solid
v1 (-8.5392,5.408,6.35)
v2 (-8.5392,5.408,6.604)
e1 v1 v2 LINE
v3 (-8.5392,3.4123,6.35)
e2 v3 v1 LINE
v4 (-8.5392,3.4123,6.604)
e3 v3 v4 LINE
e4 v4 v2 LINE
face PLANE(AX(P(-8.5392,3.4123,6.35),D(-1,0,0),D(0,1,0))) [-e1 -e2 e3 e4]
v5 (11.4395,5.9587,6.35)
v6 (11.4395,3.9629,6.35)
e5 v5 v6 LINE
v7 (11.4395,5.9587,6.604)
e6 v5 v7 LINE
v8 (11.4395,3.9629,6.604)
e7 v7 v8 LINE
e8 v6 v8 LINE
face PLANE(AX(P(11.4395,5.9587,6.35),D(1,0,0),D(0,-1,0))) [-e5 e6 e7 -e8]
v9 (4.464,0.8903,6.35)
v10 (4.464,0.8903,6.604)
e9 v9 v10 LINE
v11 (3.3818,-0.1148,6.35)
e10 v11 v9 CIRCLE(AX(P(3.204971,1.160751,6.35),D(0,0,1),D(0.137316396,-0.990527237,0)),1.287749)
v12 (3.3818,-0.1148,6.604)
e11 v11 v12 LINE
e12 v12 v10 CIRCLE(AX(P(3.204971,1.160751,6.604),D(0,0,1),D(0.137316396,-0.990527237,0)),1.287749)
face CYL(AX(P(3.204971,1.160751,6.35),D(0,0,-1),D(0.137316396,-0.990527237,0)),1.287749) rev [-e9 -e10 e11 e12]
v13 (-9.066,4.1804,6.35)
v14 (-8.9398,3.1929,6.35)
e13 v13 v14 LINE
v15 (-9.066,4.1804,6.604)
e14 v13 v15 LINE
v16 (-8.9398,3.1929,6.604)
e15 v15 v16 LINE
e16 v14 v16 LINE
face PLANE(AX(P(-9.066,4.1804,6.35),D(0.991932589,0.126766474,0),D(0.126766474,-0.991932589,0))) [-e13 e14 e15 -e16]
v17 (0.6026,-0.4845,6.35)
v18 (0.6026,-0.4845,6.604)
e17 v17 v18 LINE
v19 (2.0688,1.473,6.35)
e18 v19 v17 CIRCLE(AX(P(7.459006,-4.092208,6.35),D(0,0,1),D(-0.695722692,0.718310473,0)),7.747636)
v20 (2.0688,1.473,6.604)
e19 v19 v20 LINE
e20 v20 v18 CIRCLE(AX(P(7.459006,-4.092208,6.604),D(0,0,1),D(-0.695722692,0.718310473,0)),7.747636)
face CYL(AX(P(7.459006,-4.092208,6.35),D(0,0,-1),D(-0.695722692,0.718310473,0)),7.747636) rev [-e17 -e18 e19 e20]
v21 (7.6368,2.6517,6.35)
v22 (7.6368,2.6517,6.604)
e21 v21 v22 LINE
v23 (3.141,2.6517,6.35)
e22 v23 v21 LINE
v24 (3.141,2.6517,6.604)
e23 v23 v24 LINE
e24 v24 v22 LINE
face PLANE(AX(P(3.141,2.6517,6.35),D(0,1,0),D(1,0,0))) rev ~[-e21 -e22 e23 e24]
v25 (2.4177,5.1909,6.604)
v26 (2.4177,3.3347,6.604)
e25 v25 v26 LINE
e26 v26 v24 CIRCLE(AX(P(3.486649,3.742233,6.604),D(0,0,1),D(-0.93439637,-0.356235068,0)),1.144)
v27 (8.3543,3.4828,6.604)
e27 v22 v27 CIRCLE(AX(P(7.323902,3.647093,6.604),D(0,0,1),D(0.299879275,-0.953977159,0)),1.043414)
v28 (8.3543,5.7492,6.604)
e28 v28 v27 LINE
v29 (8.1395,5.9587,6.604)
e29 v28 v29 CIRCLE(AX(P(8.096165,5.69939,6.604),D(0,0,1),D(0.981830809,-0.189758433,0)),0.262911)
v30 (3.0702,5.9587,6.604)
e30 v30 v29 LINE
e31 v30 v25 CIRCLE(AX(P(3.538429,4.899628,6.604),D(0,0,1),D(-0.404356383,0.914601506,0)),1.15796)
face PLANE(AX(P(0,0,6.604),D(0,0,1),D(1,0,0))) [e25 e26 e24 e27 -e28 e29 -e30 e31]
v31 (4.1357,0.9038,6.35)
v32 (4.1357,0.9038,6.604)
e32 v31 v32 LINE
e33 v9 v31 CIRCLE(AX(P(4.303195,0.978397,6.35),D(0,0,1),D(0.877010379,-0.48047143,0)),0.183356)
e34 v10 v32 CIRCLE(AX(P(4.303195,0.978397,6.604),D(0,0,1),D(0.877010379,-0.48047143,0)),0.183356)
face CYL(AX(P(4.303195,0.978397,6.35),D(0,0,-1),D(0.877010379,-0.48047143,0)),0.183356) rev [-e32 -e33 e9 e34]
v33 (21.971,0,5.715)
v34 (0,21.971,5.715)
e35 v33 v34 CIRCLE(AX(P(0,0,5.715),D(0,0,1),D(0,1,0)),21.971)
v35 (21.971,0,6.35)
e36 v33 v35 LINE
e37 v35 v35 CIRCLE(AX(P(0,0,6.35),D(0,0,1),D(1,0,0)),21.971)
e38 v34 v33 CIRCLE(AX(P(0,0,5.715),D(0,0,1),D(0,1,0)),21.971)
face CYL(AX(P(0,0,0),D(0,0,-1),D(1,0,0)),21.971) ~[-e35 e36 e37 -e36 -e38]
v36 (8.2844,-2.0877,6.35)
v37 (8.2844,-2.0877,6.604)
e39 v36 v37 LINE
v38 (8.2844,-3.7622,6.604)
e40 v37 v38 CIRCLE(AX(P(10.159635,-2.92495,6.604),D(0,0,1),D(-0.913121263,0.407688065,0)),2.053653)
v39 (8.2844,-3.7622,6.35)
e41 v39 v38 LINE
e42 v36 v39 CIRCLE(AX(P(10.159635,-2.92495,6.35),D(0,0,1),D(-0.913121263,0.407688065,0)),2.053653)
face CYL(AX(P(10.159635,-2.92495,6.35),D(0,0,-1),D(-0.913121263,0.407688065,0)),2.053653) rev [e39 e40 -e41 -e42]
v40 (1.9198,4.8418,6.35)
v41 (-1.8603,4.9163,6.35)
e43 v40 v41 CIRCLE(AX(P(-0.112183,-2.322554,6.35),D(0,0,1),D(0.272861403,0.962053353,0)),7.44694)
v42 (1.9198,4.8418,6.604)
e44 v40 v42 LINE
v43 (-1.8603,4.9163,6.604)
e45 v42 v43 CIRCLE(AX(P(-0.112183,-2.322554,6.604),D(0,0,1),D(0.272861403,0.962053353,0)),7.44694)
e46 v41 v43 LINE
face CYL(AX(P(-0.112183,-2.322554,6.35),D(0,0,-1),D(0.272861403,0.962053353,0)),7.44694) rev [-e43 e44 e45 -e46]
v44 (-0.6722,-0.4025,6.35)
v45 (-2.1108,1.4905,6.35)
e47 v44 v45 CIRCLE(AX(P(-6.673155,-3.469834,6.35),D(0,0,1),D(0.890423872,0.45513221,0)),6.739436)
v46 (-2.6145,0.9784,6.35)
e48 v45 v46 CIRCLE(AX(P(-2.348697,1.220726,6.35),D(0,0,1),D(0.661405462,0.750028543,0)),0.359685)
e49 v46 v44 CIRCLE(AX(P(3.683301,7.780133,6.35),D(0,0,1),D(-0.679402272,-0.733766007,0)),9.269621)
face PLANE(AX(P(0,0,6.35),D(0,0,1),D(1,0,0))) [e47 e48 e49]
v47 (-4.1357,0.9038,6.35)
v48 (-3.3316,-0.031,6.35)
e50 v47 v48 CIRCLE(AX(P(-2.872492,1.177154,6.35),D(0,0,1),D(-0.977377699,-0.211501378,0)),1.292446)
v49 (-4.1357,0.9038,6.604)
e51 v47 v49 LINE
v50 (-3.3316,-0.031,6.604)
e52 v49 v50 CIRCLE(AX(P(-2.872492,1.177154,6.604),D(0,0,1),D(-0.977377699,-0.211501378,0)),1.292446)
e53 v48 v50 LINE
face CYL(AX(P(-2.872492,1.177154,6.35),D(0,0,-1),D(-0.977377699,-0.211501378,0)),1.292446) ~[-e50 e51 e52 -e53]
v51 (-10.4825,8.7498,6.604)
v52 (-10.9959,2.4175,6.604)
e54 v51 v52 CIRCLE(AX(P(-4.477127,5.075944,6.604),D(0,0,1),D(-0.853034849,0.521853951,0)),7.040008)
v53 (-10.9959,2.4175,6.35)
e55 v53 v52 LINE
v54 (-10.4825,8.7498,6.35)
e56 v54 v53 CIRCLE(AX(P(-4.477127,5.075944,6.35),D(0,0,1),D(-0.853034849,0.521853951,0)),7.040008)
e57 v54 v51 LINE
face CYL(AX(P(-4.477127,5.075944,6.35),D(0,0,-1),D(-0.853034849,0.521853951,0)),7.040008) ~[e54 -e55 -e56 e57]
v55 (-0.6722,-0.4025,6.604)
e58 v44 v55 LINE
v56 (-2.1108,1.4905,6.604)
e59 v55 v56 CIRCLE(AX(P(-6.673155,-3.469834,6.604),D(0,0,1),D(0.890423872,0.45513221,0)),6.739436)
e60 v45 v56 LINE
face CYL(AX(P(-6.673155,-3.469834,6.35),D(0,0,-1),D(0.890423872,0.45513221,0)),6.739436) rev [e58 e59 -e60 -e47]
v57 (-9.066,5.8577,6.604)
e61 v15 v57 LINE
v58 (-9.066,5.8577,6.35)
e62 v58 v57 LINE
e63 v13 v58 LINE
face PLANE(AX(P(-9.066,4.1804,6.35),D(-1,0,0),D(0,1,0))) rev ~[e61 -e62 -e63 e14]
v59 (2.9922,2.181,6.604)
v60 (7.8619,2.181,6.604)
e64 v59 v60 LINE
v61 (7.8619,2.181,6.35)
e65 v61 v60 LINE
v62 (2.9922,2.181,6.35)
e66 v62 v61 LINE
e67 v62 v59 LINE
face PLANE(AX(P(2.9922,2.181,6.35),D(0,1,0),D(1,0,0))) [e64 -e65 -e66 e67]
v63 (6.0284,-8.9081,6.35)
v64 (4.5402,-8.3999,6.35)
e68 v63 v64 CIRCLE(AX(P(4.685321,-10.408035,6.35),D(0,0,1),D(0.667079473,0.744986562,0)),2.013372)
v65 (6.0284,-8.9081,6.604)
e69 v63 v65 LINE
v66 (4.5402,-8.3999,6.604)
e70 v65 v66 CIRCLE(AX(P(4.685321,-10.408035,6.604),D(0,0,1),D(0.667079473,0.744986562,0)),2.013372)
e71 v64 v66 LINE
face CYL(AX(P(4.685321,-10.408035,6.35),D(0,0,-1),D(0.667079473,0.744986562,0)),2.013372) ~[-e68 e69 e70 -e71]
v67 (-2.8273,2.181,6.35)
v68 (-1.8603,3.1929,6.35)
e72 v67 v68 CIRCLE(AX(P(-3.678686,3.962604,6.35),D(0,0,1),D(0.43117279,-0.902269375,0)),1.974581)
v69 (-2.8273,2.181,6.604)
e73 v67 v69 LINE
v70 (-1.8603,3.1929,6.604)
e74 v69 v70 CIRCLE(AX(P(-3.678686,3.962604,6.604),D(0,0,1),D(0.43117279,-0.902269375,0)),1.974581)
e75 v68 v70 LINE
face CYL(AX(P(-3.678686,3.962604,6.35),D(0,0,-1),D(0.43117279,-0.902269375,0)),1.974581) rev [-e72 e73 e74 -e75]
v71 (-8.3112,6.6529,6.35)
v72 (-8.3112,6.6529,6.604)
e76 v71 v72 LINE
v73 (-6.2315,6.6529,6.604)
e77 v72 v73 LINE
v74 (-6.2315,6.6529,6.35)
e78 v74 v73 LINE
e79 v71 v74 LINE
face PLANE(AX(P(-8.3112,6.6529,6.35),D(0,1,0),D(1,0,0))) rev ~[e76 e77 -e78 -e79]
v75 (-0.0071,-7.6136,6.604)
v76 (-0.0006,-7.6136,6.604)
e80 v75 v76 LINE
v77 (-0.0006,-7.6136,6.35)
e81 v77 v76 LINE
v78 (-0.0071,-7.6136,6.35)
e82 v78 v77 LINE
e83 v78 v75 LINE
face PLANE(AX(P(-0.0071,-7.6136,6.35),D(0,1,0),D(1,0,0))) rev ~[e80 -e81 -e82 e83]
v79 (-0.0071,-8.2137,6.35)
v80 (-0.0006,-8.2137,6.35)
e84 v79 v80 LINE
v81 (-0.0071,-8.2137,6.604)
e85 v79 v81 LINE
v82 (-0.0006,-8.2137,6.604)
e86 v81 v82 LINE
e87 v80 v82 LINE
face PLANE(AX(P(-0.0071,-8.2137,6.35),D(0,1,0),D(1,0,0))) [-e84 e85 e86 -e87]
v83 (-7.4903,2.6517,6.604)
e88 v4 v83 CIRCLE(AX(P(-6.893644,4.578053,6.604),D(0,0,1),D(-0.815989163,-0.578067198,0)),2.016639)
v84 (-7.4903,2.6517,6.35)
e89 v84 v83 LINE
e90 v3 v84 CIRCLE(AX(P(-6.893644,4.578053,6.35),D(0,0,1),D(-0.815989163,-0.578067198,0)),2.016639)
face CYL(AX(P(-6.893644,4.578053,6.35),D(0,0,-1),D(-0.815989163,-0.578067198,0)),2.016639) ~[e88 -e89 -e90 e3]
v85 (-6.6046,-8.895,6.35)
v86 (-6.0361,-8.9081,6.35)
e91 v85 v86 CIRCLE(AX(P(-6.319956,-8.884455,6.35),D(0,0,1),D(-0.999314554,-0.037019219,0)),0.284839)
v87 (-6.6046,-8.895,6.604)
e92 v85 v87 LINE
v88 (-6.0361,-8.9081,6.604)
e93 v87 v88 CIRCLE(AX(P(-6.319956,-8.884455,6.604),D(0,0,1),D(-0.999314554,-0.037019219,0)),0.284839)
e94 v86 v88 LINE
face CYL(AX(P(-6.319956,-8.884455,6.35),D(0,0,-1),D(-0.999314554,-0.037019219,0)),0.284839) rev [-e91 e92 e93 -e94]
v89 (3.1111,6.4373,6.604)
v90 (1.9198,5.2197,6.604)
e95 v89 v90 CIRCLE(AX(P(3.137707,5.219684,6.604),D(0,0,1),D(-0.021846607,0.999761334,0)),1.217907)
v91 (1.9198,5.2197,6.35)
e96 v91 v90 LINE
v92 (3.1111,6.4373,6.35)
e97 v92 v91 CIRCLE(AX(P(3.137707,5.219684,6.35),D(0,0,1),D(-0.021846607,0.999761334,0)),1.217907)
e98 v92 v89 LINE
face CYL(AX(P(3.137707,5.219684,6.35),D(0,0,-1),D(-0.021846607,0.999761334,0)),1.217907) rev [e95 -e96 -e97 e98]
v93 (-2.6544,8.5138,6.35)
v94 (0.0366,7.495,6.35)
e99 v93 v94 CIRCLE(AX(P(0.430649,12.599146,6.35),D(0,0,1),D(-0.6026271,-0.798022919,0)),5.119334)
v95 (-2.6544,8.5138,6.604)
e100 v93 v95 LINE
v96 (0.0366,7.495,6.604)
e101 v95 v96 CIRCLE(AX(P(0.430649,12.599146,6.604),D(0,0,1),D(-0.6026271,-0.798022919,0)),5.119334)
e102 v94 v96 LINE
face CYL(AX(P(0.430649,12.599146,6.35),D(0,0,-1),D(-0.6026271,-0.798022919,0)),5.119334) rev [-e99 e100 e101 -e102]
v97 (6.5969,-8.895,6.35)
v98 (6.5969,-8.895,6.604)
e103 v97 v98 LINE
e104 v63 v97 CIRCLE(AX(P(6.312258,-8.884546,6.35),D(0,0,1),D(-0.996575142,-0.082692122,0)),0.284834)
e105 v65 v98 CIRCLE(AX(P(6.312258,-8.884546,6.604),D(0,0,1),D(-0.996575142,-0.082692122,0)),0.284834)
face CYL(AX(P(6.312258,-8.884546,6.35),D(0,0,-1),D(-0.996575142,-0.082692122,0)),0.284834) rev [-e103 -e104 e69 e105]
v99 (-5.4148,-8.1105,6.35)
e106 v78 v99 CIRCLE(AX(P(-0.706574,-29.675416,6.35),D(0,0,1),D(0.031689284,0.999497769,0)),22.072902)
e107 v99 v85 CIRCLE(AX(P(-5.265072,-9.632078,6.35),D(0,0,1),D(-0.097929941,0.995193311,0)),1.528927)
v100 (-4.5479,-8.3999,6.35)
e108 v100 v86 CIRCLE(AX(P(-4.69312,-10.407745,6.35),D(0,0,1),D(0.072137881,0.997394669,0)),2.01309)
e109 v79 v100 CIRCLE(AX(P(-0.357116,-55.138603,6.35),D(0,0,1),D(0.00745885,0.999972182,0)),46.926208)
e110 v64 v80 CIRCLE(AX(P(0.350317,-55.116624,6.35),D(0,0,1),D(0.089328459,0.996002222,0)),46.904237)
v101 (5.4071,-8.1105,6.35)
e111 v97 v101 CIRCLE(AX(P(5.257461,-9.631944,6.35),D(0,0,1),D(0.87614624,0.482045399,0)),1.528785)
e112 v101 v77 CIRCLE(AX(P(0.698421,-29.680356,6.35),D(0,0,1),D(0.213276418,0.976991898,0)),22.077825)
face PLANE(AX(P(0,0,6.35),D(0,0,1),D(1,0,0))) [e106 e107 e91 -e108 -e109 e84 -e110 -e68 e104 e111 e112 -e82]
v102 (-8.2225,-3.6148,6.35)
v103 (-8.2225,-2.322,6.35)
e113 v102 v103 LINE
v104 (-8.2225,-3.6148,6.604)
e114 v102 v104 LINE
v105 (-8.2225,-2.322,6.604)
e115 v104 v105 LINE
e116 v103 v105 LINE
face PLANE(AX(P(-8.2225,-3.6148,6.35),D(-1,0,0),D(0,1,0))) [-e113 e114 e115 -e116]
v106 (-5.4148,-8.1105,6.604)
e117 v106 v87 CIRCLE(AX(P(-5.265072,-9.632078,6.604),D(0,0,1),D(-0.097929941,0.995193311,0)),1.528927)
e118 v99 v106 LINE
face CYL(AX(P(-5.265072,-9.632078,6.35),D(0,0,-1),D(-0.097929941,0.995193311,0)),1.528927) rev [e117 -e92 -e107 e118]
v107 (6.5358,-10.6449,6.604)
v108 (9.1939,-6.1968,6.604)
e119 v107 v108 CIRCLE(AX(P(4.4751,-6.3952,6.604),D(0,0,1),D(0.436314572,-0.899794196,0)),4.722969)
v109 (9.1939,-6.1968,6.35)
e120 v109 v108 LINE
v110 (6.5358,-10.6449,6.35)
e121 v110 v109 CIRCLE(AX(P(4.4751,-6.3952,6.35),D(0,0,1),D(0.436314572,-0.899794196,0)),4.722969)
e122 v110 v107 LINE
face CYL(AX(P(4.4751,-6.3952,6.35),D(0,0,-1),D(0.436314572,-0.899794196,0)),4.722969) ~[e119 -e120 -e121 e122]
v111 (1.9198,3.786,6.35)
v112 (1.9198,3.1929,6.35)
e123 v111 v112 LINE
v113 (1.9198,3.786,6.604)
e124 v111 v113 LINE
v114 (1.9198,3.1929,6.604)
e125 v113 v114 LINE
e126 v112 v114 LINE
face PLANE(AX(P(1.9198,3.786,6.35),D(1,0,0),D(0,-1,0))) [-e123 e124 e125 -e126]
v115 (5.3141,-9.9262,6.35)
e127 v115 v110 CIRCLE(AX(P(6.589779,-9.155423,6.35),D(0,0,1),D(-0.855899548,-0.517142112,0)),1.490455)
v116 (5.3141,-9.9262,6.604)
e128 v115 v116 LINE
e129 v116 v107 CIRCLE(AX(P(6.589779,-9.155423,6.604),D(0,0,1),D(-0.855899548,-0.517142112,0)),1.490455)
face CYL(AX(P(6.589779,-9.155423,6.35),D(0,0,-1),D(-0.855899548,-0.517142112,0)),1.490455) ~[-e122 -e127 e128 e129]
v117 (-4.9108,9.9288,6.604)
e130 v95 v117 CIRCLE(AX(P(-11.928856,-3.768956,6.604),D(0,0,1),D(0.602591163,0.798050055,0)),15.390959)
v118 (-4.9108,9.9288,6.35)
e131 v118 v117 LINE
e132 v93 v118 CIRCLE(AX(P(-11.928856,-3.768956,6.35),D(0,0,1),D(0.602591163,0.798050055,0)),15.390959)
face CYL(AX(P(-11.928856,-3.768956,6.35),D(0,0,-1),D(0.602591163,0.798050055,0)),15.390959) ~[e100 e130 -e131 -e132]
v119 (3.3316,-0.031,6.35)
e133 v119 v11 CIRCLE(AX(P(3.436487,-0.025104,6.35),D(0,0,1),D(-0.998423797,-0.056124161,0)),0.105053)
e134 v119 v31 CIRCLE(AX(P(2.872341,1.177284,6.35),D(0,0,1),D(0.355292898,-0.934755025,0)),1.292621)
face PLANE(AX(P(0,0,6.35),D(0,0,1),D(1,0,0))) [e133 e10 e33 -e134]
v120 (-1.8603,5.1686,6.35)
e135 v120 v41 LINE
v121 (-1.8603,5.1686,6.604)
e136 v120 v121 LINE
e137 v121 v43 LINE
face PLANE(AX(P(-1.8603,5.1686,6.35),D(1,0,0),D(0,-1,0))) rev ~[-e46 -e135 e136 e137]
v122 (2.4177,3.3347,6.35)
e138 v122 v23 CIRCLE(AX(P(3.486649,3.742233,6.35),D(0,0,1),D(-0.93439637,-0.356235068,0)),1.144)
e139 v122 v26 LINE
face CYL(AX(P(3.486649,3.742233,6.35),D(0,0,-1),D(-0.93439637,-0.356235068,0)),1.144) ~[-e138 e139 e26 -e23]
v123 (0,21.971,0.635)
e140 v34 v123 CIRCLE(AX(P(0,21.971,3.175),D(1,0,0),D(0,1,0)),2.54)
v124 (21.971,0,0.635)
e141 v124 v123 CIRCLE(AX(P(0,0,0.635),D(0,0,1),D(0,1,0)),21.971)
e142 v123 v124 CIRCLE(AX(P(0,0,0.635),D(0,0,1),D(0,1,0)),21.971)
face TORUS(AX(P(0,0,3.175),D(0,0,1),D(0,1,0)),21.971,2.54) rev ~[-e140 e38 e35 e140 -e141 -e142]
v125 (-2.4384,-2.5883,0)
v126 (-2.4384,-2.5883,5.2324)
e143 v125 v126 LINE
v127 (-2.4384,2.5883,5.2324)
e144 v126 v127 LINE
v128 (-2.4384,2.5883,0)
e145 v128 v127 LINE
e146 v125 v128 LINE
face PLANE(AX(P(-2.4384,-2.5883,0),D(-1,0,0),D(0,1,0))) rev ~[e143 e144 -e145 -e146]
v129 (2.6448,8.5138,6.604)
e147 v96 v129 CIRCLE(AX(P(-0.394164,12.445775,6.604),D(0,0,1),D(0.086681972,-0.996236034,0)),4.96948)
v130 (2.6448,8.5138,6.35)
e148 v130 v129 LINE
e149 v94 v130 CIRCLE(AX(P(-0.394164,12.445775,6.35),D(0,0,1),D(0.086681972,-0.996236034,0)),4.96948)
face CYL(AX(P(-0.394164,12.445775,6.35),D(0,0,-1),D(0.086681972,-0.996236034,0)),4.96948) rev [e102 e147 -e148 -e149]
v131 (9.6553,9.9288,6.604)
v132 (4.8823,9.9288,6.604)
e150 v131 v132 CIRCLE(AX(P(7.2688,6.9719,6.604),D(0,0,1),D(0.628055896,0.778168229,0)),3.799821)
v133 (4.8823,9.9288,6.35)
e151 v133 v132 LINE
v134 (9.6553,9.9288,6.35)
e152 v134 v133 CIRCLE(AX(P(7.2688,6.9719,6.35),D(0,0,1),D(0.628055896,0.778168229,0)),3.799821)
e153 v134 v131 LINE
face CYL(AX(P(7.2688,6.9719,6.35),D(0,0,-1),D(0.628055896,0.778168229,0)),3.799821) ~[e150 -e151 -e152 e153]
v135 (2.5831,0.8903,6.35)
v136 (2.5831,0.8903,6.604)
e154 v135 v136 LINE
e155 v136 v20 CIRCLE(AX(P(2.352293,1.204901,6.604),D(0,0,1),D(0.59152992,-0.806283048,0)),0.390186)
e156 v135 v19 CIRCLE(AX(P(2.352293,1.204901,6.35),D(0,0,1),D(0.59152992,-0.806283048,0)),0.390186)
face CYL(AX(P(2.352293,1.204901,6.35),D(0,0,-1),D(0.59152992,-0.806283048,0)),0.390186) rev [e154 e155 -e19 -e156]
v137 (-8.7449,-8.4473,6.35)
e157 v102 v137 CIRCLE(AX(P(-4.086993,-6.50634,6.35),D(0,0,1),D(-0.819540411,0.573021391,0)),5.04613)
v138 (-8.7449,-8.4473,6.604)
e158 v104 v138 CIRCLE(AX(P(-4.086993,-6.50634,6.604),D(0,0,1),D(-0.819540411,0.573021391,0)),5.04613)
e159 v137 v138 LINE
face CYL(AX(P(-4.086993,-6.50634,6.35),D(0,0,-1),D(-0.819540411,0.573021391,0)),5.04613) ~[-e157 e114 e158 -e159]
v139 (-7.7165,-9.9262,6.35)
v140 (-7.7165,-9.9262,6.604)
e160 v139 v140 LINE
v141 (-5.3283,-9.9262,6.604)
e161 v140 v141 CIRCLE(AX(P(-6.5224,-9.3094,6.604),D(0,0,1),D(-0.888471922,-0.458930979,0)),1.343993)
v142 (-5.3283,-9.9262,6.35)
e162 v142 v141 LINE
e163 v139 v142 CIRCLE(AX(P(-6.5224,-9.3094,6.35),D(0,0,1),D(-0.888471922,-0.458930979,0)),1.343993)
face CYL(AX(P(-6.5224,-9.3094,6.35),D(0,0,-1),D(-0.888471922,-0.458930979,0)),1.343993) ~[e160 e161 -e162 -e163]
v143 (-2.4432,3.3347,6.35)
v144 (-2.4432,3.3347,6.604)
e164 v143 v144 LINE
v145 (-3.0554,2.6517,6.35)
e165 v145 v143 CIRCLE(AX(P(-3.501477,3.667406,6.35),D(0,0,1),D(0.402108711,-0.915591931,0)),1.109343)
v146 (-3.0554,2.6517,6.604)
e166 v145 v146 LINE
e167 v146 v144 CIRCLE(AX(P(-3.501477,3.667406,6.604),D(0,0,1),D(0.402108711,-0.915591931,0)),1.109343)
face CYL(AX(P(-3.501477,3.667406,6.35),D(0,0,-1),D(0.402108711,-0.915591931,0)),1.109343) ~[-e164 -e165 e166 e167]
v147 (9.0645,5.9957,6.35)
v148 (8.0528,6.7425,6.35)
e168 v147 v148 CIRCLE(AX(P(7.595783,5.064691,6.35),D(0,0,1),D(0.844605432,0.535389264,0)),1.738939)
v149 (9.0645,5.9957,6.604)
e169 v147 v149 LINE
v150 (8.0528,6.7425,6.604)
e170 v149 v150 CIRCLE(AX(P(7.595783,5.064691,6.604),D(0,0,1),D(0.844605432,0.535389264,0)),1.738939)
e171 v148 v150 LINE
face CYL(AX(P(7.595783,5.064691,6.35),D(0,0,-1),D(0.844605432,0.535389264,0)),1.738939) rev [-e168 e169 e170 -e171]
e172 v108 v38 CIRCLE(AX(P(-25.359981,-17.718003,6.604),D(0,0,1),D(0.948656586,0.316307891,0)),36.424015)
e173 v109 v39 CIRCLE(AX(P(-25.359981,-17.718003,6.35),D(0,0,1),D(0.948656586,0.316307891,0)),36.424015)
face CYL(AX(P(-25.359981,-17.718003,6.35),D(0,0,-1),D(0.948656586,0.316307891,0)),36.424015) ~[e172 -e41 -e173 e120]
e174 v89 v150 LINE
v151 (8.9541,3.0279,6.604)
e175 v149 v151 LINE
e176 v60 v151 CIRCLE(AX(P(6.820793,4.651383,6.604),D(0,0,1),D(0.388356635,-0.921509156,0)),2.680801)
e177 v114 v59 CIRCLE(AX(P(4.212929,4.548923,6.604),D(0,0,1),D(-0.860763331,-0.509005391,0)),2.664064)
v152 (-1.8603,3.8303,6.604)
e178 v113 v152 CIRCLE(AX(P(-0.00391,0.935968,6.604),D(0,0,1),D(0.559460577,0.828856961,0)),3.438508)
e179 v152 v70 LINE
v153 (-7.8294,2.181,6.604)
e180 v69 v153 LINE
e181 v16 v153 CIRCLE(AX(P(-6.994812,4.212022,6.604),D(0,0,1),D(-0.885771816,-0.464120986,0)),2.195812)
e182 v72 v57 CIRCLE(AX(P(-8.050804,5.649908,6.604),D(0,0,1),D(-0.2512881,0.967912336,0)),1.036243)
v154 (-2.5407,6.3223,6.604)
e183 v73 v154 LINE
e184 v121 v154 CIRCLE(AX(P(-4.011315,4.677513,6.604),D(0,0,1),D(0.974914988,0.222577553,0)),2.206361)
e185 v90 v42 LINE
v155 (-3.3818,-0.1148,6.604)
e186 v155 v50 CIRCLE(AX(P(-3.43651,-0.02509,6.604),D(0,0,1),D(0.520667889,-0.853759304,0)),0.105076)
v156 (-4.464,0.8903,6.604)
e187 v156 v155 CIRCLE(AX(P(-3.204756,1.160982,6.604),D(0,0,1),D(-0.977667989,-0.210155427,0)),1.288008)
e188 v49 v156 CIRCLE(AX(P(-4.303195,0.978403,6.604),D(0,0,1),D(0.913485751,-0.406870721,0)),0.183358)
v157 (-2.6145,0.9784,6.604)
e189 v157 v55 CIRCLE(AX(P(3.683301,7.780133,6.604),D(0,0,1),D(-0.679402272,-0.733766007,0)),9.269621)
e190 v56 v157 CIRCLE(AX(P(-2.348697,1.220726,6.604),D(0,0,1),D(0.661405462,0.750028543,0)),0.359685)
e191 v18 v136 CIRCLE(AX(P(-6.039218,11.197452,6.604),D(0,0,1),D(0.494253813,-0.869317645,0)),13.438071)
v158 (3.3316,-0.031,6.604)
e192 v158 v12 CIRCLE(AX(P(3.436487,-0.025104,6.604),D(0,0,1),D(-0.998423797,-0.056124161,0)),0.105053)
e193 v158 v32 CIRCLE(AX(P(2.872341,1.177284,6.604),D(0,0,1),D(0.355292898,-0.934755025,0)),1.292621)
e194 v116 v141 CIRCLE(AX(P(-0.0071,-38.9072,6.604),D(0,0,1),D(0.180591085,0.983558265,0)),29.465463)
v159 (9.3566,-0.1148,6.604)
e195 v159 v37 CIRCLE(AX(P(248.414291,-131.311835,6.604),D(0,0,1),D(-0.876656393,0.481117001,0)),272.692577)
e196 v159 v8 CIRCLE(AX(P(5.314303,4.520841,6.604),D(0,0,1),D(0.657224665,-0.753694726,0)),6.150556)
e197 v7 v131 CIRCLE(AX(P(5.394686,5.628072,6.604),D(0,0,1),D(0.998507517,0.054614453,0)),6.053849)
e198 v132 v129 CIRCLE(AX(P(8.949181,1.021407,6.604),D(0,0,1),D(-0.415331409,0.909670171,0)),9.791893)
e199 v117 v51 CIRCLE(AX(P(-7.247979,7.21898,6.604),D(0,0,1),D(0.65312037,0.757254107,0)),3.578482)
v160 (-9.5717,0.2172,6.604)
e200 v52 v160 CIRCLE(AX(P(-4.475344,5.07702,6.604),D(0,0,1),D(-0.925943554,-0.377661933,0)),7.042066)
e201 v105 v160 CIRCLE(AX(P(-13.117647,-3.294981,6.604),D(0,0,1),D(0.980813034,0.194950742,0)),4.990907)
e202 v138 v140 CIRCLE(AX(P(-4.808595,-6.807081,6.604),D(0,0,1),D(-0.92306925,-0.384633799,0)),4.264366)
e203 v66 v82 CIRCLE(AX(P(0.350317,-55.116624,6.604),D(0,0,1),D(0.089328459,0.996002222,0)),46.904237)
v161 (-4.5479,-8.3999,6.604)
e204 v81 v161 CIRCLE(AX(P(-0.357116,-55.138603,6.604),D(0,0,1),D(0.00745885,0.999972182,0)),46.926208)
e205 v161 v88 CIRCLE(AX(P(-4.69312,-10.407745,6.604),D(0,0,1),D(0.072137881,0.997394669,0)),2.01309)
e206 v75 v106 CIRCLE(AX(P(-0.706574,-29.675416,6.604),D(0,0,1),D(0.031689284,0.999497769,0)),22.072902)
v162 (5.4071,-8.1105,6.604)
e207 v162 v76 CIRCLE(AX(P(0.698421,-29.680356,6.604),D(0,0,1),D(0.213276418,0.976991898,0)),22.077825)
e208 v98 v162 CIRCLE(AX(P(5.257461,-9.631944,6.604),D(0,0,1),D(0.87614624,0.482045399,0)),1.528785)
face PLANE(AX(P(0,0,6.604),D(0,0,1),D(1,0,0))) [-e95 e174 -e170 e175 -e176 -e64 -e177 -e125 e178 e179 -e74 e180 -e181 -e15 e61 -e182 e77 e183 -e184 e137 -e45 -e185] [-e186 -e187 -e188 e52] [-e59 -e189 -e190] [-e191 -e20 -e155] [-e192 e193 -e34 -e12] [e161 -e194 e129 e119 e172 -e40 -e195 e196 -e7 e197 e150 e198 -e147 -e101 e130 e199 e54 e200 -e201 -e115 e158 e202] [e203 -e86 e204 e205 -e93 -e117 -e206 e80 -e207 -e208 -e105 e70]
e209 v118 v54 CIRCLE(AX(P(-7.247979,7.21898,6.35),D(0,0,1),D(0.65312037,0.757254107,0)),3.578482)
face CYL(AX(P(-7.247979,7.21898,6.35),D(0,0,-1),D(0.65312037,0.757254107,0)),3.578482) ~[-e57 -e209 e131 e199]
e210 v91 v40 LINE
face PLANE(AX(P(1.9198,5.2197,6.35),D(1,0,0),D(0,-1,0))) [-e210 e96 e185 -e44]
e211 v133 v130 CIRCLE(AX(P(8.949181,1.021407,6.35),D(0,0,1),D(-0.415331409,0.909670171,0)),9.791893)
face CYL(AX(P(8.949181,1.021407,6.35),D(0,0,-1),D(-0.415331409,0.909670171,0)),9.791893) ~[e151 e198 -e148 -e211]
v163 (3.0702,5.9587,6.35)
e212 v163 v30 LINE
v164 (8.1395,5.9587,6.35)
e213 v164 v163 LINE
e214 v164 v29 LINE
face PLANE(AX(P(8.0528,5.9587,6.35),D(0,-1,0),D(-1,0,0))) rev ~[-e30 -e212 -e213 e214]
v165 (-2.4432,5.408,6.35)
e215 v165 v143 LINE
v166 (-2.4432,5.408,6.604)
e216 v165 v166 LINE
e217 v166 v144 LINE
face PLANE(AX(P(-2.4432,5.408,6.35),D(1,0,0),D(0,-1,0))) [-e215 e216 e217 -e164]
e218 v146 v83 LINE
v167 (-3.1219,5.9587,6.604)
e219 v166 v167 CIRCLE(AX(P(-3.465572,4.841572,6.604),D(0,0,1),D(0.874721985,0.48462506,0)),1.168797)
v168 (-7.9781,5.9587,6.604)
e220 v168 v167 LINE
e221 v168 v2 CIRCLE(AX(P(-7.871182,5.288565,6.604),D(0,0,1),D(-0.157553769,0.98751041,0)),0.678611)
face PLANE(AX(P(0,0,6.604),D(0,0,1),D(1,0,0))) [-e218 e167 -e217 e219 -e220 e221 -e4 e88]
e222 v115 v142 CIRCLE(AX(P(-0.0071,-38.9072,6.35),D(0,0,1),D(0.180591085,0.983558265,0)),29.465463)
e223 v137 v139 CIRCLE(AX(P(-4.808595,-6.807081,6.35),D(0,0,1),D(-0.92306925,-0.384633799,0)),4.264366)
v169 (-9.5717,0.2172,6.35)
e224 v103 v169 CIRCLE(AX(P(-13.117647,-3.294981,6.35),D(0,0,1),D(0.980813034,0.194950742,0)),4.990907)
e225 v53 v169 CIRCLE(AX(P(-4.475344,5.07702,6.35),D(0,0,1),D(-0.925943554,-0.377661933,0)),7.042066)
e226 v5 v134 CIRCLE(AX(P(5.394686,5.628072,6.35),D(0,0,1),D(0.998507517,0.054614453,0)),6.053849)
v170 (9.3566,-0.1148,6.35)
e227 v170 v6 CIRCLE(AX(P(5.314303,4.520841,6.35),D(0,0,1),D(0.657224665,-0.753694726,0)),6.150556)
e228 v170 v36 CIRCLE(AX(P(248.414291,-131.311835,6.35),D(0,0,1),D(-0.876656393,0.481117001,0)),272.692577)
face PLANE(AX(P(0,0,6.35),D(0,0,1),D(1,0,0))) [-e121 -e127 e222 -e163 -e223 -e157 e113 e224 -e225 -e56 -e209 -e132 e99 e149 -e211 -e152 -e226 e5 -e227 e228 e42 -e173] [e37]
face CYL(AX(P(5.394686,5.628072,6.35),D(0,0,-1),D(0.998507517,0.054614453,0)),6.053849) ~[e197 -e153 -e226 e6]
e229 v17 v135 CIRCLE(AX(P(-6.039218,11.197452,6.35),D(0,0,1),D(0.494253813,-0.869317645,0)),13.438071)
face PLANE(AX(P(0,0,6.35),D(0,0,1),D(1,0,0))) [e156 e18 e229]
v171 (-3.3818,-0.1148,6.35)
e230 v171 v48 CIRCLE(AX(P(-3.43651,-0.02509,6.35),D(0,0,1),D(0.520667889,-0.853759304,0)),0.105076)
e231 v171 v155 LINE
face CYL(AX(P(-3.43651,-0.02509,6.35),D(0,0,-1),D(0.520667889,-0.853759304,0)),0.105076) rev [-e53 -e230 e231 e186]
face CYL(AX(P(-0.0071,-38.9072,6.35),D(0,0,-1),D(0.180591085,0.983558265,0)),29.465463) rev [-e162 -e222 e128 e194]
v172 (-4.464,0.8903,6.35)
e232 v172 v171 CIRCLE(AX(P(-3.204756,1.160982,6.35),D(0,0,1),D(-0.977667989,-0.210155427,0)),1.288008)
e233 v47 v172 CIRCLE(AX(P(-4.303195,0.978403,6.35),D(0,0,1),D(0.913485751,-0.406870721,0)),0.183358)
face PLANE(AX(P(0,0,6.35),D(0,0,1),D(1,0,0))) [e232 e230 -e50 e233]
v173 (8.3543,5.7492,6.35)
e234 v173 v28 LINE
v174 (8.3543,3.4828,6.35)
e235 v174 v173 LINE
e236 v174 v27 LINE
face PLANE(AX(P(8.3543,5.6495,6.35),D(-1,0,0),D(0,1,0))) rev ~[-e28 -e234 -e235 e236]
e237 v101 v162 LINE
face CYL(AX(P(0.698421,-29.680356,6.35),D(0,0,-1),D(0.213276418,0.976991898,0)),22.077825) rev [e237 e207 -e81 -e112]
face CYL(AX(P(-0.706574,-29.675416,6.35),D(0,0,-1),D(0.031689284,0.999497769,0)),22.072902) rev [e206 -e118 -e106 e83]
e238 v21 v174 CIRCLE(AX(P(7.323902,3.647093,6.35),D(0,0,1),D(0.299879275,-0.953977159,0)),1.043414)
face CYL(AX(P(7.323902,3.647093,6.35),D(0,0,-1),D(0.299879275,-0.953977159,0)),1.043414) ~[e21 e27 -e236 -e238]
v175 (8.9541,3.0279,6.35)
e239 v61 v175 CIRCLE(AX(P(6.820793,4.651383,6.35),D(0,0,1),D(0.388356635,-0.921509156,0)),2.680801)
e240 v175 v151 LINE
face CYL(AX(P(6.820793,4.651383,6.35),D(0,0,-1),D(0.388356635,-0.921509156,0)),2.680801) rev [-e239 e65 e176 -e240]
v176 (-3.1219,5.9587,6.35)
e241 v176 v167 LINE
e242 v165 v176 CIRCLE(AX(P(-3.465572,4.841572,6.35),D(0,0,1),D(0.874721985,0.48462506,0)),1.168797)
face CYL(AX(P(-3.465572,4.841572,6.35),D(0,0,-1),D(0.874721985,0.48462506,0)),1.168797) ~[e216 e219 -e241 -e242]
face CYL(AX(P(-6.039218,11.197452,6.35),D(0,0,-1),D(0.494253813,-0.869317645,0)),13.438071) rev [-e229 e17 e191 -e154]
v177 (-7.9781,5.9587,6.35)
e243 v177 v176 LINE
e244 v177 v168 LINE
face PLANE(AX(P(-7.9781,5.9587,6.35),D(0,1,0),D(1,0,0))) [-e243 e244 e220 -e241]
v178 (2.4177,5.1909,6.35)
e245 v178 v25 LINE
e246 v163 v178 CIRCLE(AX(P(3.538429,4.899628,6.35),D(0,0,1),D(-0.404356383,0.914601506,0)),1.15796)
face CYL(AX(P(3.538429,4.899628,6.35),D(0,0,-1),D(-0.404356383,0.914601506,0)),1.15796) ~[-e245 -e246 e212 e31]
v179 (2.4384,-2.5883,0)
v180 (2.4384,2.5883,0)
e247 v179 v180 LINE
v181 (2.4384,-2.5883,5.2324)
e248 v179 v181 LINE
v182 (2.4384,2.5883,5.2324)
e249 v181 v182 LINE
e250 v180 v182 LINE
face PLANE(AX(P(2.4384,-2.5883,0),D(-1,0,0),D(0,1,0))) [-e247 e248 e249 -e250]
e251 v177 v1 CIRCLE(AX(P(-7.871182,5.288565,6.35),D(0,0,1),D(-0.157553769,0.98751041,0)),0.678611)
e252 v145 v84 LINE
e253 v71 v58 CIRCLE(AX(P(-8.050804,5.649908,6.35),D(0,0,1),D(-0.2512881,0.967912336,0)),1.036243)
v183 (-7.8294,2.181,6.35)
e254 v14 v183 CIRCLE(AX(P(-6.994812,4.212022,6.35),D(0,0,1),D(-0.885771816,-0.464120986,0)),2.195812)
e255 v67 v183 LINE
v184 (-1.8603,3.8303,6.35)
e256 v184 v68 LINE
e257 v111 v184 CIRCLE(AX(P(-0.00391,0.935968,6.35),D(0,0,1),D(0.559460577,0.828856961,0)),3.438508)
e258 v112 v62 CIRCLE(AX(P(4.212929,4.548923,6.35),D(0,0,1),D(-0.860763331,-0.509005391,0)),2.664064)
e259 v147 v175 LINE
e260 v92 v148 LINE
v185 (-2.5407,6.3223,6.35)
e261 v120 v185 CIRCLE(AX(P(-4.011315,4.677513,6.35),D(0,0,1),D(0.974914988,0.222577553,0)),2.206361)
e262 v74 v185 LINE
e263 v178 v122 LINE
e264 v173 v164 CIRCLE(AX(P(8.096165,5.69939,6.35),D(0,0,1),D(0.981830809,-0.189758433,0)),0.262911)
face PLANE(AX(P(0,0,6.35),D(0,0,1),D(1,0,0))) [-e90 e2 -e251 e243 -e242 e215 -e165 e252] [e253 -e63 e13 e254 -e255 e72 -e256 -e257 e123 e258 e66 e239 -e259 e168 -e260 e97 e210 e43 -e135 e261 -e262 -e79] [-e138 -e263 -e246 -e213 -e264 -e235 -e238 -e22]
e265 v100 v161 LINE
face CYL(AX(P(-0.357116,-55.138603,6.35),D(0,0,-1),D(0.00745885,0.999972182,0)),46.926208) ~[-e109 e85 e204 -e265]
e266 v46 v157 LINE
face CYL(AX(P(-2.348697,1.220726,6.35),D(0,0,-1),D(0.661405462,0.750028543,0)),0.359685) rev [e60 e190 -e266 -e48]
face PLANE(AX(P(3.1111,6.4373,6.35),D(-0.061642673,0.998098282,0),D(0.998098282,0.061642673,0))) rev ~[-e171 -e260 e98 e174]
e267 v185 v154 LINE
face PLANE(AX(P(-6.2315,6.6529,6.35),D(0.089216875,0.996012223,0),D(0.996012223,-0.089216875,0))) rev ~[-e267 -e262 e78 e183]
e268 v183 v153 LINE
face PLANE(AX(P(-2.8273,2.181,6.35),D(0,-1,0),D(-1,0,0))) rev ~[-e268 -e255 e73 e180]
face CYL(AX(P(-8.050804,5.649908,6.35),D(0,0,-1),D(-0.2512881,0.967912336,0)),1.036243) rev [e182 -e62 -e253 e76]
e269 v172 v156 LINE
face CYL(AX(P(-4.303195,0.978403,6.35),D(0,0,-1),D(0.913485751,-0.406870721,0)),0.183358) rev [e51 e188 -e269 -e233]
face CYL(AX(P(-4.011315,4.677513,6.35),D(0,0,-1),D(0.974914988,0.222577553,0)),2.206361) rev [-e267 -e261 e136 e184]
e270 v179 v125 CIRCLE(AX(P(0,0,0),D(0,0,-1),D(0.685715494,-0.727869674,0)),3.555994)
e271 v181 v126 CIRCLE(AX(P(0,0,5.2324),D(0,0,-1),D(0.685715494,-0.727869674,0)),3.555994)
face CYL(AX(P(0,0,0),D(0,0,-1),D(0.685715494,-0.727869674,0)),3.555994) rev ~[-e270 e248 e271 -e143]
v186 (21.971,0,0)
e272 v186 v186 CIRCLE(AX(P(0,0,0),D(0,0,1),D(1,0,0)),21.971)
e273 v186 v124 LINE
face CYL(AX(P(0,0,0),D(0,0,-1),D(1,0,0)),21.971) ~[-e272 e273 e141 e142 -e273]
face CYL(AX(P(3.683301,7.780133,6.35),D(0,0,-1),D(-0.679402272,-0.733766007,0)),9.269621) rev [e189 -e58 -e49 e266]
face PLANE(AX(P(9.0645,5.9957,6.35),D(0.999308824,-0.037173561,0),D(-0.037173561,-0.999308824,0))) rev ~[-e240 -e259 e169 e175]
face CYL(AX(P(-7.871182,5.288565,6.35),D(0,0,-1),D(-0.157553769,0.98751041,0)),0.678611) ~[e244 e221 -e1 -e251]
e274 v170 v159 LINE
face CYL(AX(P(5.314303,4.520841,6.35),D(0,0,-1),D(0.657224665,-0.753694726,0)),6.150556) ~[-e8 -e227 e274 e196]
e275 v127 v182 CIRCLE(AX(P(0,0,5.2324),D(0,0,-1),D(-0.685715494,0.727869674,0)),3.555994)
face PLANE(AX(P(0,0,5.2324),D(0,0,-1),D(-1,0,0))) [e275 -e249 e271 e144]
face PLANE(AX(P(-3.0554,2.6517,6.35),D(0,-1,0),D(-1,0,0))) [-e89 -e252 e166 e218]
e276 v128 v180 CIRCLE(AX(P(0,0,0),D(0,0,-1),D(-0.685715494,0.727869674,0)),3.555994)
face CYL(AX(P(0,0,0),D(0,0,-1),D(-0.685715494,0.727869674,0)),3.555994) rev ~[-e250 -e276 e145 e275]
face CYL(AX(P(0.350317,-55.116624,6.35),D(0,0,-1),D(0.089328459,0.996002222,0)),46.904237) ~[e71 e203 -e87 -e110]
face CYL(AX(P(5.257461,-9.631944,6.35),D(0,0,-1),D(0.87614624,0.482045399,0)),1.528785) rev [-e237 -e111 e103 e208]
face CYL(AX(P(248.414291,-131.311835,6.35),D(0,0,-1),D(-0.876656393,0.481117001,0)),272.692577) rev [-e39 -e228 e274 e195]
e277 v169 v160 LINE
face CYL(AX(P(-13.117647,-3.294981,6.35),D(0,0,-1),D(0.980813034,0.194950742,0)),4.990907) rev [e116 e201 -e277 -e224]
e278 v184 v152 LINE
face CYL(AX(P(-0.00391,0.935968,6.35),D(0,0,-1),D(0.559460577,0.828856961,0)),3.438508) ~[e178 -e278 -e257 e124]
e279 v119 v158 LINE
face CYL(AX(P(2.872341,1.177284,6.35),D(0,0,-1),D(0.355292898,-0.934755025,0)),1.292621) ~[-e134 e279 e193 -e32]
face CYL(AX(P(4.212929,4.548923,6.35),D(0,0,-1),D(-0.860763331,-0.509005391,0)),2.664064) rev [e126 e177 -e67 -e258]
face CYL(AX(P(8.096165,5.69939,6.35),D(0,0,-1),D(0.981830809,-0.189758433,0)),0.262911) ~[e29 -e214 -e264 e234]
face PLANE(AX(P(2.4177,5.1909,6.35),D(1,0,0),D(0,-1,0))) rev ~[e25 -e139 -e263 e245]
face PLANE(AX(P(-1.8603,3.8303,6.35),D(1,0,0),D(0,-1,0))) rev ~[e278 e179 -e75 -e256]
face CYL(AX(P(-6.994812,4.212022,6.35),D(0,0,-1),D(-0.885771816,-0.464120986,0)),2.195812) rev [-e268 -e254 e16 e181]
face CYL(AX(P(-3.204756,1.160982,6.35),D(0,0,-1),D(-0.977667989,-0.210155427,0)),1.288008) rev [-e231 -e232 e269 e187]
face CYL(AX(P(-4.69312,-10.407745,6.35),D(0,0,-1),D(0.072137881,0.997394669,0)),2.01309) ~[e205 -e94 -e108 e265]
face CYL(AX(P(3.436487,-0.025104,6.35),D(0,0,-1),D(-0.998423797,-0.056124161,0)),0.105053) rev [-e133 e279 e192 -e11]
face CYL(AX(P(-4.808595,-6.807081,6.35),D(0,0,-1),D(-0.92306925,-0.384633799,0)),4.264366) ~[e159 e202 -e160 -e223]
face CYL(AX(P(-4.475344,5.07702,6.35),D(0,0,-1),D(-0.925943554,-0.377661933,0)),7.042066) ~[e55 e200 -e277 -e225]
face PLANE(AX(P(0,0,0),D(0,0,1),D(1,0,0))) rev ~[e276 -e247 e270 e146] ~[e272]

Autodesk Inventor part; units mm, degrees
ref_plane "XZ Plane" through (0, 0, 0) normal (0, 1, 0) x (-1, 0, 0)
ref_plane "XY Plane" through (0, 0, 0) normal (0, 0, 1) x (1, 0, 0)
sketch "Sketch1" plane through (0, 0, 0) normal (0, 0, 1) x (1, 0, 0)
  circle A0 centre (0, 0) radius 21.971
  dimension "d0" = 43.942
extrude "Extrusion1" add sketch "Sketch1" along normal blind 6.35
sketch "Sketch3" plane through (0, 0, 0) normal (1, 0, 0) x (0, 1, 0)
  line L0 (21.971, 0) -> (21.971, 6.35) projected
  circle A0 centre (21.971, 3.175) radius 2.54
  line L1 (0, -1.27) -> (0, 7.62) projected
  point P0 (0, 0)
  dimension "d37" = 5.08
revolve "Revolution1" cut sketch "Sketch3" angle 360 about axis through (0, 0, -10) along (0, 0, 1)
sketch "Sketch4" plane through (0, 0, 0) normal (0, 0, -1) x (-1, 0, 0)
  line L0 (2.4384, -2.5883) -> (2.4384, 2.5883)
  line L1 (-2.4384, -2.5883) -> (-2.4384, 2.5883)
  arc A0 (2.4384, 2.5883) -> (-2.4384, 2.5883) centre (0, 0) ccw
  arc A1 (-2.4384, -2.5883) -> (2.4384, -2.5883) centre (0, 0) ccw
  dimension "d44" = 4.8768
  dimension "d45" = 3.556
  dimension "d46" = 5.1766
  dimension "d47" = 2.4384
extrude "Extrusion3" cut sketch "Sketch4" against normal blind 5.2324
sketch "Sketch6" plane through (0, 0, 6.35) normal (0, 0, 1) x (1, 0, 0)
  line L0 (-7.9781, 5.9587) -> (-3.1219, 5.9587)
  line L1 (-2.4432, 5.408) -> (-2.4432, 3.3347)
  line L2 (-3.0554, 2.6517) -> (-7.4903, 2.6517)
  line L3 (-8.5392, 3.4123) -> (-8.5392, 5.408)
  line L4 (8.1395, 5.9587) -> (3.0702, 5.9587)
  line L5 (2.4177, 5.1909) -> (2.4177, 3.3347)
  line L6 (3.141, 2.6517) -> (7.6368, 2.6517)
  line L7 (8.3543, 3.4828) -> (8.3543, 5.7492)
  arc A0 (-7.9781, 5.9587) -> (-8.5392, 5.408) centre (-7.8712, 5.2886) ccw
  arc A1 (-2.4432, 5.408) -> (-3.1219, 5.9587) centre (-3.4653, 4.8418) ccw
  arc A2 (-3.0554, 2.6517) -> (-2.4432, 3.3347) centre (-3.5014, 3.6673) ccw
  arc A3 (-8.5392, 3.4123) -> (-7.4903, 2.6517) centre (-6.8939, 4.5778) ccw
  arc A4 (3.0702, 5.9587) -> (2.4177, 5.1909) centre (3.5383, 4.8998) ccw
  arc A5 (8.3543, 5.6495) -> (8.0528, 5.9587) centre (8.0962, 5.6994) ccw
  arc A6 (7.6368, 2.6517) -> (8.3543, 3.4828) centre (7.3237, 3.6474) ccw
  arc A7 (2.4177, 3.3347) -> (3.141, 2.6517) centre (3.4866, 3.7422) ccw
  line L8 (-2.8273, 2.181) -> (-7.8294, 2.181)
  line L9 (-9.066, 4.1804) -> (-9.066, 5.8577)
  arc A8 (-8.3112, 6.6529) -> (-9.066, 5.8577) centre (-8.0508, 5.6499) ccw
  arc A9 (-1.8603, 5.1686) -> (-2.5407, 6.3223) centre (-4.0116, 4.6774) ccw
  arc A10 (-8.9398, 3.1929) -> (-7.8294, 2.181) centre (-6.9951, 4.2118) ccw
  arc A11 (-2.8273, 2.181) -> (-1.8603, 3.1929) centre (-3.6789, 3.9629) ccw
  line L10 (-9.066, 4.1804) -> (-8.9398, 3.1929)
  line L11 (-6.2315, 6.6529) -> (-2.5407, 6.3223)
  line L12 (-8.3112, 6.6529) -> (-6.2315, 6.6529)
  line L13 (2.9922, 2.181) -> (7.8619, 2.181)
  arc A12 (3.1111, 6.4373) -> (1.9198, 5.2197) centre (3.1377, 5.2197) ccw
  arc A13 (9.0645, 5.9957) -> (8.0528, 6.7425) centre (7.5959, 5.0648) ccw
  arc A14 (7.8619, 2.181) -> (8.9541, 3.0279) centre (6.8209, 4.6512) ccw
  arc A15 (1.9198, 3.1929) -> (2.9922, 2.181) centre (4.2129, 4.5489) ccw
  line L14 (3.1111, 6.4373) -> (8.0528, 6.7425)
  line L15 (9.0645, 5.9957) -> (8.9541, 3.0279)
  arc A16 (1.9198, 4.8418) -> (-1.8603, 4.9163) centre (-0.1121, -2.322) ccw
  arc A17 (1.9198, 3.786) -> (-1.8603, 3.8303) centre (-0.0039, 0.936) ccw
  line L16 (-1.8603, 5.1686) -> (-1.8603, 4.9163)
  line L17 (-1.8603, 3.8303) -> (-1.8603, 3.1929)
  line L18 (1.9198, 5.2197) -> (1.9198, 4.8418)
  line L19 (1.9198, 3.786) -> (1.9198, 3.1929)
  arc A18 (-4.1357, 0.9038) -> (-4.464, 0.8903) centre (-4.3032, 0.9784) ccw
  arc A19 (-4.1357, 0.9038) -> (-3.3316, -0.031) centre (-2.8724, 1.1772) ccw
  arc A20 (-4.464, 0.8903) -> (-3.3818, -0.1148) centre (-3.2049, 1.1609) ccw
  arc A21 (-3.3818, -0.1148) -> (-3.3316, -0.031) centre (-3.4365, -0.0251) ccw
  arc A22 (-2.1108, 1.4905) -> (-2.6145, 0.9784) centre (-2.3487, 1.2208) ccw
  arc A23 (-2.6145, 0.9784) -> (-0.6722, -0.4025) centre (3.6836, 7.7805) ccw
  arc A24 (-0.6722, -0.4025) -> (-2.1108, 1.4905) centre (-6.6731, -3.4698) ccw
  arc A25 (2.5831, 0.8903) -> (2.0688, 1.473) centre (2.3523, 1.2049) ccw
  arc A26 (2.0688, 1.473) -> (0.6026, -0.4845) centre (7.4607, -4.0937) ccw
  arc A27 (0.6026, -0.4845) -> (2.5831, 0.8903) centre (-6.0361, 11.1925) ccw
  arc A28 (4.464, 0.8903) -> (4.1357, 0.9038) centre (4.3032, 0.9784) ccw
  arc A29 (3.3316, -0.031) -> (4.1357, 0.9038) centre (2.8724, 1.1772) ccw
  arc A30 (3.3818, -0.1148) -> (4.464, 0.8903) centre (3.2049, 1.1609) ccw
  arc A31 (3.3316, -0.031) -> (3.3818, -0.1148) centre (3.4365, -0.0251) ccw
  arc A32 (-10.4825, 8.7498) -> (-10.9959, 2.4175) centre (-4.4773, 5.076) ccw
  arc A33 (-4.9108, 9.9288) -> (-10.4825, 8.7498) centre (-7.248, 7.2189) ccw
  arc A34 (-2.6544, 8.5138) -> (-4.9108, 9.9288) centre (-11.9242, -3.7622) ccw
  arc A35 (-2.6544, 8.5138) -> (0.0366, 7.495) centre (0.4309, 12.5996) ccw
  arc A36 (0.0366, 7.495) -> (2.6448, 8.5138) centre (-0.3941, 12.4455) ccw
  arc A37 (4.8823, 9.9288) -> (2.6448, 8.5138) centre (8.9507, 1.0186) ccw
  arc A38 (9.6553, 9.9288) -> (4.8823, 9.9288) centre (7.2688, 6.9719) ccw
  arc A39 (11.4395, 5.9587) -> (9.6553, 9.9288) centre (5.3948, 5.6281) ccw
  line L20 (11.4395, 5.9587) -> (11.4395, 3.9629)
  arc A40 (9.3566, -0.1148) -> (11.4395, 3.9629) centre (5.3141, 4.521) ccw
  arc A41 (9.3566, -0.1148) -> (8.2844, -2.0877) centre (249.5341, -131.9234) ccw
  arc A42 (8.2844, -2.0877) -> (8.2844, -3.7622) centre (10.1594, -2.9249) ccw
  arc A43 (9.1939, -6.1968) -> (8.2844, -3.7622) centre (-25.3645, -17.7196) ccw
  arc A44 (6.5358, -10.6449) -> (9.1939, -6.1968) centre (4.4751, -6.3952) ccw
  arc A45 (5.3141, -9.9262) -> (6.5358, -10.6449) centre (6.59, -9.1552) ccw
  arc A46 (5.3141, -9.9262) -> (-5.3283, -9.9262) centre (-0.0071, -38.9072) ccw
  arc A47 (-7.7165, -9.9262) -> (-5.3283, -9.9262) centre (-6.5224, -9.3094) ccw
  arc A48 (-8.7449, -8.4473) -> (-7.7165, -9.9262) centre (-4.8079, -6.8067) ccw
  arc A49 (-8.2225, -3.6148) -> (-8.7449, -8.4473) centre (-4.0871, -6.5063) ccw
  line L21 (-8.2225, -3.6148) -> (-8.2225, -2.322)
  arc A50 (-10.9959, 2.4175) -> (-9.5717, 0.2172) centre (-4.4773, 5.076) ccw
  arc A51 (-8.2225, -2.322) -> (-9.5717, 0.2172) centre (-13.1177, -3.295) ccw
  arc A52 (-6.6046, -8.895) -> (-6.0361, -8.9081) centre (-6.32, -8.8845) ccw
  arc A53 (-5.4148, -8.1105) -> (-6.6046, -8.895) centre (-5.2651, -9.632) ccw
  arc A54 (-0.0071, -7.6136) -> (-5.4148, -8.1105) centre (-0.7065, -29.6779) ccw
  arc A55 (-4.5479, -8.3999) -> (-6.0361, -8.9081) centre (-4.6931, -10.4079) ccw
  arc A56 (-0.0071, -8.2137) -> (-4.5479, -8.3999) centre (-0.3573, -55.1276) ccw
  line L22 (-0.0039, 0.936) -> (-0.0039, -3.295)
  arc A57 (6.0284, -8.9081) -> (6.5969, -8.895) centre (6.3123, -8.8845) ccw
  arc A58 (6.5969, -8.895) -> (5.4071, -8.1105) centre (5.2574, -9.632) ccw
  arc A59 (5.4071, -8.1105) -> (-0.0006, -7.6136) centre (0.6988, -29.6779) ccw
  arc A60 (6.0284, -8.9081) -> (4.5402, -8.3999) centre (4.6854, -10.4079) ccw
  arc A61 (4.5402, -8.3999) -> (-0.0006, -8.2137) centre (0.3496, -55.1276) ccw
  line L23 (-0.0071, -7.6136) -> (-0.0006, -7.6136)
  line L24 (-0.0071, -8.2137) -> (-0.0006, -8.2137)
  point P0 (0, 0)
  point P1 (6.5147, -9.3094)
  point P2 (4.8002, -6.8067)
  point P3 (4.0794, -6.5063)
extrude "Extrusion4" add sketch "Sketch6" along normal blind 0.254 contours L0 A1 L1 A2 L2 A3 L3 A0 | A5 L7 A6 L6 A7 L5 A4 L4 | A33 A34 A35 A36 A37 A38 A39 L20 A40 A41 A42 A43 A44 A45 A46 A47 A48 A49 L21 A51 A50 A32
properties part number "SumoBotCad Wheel"
